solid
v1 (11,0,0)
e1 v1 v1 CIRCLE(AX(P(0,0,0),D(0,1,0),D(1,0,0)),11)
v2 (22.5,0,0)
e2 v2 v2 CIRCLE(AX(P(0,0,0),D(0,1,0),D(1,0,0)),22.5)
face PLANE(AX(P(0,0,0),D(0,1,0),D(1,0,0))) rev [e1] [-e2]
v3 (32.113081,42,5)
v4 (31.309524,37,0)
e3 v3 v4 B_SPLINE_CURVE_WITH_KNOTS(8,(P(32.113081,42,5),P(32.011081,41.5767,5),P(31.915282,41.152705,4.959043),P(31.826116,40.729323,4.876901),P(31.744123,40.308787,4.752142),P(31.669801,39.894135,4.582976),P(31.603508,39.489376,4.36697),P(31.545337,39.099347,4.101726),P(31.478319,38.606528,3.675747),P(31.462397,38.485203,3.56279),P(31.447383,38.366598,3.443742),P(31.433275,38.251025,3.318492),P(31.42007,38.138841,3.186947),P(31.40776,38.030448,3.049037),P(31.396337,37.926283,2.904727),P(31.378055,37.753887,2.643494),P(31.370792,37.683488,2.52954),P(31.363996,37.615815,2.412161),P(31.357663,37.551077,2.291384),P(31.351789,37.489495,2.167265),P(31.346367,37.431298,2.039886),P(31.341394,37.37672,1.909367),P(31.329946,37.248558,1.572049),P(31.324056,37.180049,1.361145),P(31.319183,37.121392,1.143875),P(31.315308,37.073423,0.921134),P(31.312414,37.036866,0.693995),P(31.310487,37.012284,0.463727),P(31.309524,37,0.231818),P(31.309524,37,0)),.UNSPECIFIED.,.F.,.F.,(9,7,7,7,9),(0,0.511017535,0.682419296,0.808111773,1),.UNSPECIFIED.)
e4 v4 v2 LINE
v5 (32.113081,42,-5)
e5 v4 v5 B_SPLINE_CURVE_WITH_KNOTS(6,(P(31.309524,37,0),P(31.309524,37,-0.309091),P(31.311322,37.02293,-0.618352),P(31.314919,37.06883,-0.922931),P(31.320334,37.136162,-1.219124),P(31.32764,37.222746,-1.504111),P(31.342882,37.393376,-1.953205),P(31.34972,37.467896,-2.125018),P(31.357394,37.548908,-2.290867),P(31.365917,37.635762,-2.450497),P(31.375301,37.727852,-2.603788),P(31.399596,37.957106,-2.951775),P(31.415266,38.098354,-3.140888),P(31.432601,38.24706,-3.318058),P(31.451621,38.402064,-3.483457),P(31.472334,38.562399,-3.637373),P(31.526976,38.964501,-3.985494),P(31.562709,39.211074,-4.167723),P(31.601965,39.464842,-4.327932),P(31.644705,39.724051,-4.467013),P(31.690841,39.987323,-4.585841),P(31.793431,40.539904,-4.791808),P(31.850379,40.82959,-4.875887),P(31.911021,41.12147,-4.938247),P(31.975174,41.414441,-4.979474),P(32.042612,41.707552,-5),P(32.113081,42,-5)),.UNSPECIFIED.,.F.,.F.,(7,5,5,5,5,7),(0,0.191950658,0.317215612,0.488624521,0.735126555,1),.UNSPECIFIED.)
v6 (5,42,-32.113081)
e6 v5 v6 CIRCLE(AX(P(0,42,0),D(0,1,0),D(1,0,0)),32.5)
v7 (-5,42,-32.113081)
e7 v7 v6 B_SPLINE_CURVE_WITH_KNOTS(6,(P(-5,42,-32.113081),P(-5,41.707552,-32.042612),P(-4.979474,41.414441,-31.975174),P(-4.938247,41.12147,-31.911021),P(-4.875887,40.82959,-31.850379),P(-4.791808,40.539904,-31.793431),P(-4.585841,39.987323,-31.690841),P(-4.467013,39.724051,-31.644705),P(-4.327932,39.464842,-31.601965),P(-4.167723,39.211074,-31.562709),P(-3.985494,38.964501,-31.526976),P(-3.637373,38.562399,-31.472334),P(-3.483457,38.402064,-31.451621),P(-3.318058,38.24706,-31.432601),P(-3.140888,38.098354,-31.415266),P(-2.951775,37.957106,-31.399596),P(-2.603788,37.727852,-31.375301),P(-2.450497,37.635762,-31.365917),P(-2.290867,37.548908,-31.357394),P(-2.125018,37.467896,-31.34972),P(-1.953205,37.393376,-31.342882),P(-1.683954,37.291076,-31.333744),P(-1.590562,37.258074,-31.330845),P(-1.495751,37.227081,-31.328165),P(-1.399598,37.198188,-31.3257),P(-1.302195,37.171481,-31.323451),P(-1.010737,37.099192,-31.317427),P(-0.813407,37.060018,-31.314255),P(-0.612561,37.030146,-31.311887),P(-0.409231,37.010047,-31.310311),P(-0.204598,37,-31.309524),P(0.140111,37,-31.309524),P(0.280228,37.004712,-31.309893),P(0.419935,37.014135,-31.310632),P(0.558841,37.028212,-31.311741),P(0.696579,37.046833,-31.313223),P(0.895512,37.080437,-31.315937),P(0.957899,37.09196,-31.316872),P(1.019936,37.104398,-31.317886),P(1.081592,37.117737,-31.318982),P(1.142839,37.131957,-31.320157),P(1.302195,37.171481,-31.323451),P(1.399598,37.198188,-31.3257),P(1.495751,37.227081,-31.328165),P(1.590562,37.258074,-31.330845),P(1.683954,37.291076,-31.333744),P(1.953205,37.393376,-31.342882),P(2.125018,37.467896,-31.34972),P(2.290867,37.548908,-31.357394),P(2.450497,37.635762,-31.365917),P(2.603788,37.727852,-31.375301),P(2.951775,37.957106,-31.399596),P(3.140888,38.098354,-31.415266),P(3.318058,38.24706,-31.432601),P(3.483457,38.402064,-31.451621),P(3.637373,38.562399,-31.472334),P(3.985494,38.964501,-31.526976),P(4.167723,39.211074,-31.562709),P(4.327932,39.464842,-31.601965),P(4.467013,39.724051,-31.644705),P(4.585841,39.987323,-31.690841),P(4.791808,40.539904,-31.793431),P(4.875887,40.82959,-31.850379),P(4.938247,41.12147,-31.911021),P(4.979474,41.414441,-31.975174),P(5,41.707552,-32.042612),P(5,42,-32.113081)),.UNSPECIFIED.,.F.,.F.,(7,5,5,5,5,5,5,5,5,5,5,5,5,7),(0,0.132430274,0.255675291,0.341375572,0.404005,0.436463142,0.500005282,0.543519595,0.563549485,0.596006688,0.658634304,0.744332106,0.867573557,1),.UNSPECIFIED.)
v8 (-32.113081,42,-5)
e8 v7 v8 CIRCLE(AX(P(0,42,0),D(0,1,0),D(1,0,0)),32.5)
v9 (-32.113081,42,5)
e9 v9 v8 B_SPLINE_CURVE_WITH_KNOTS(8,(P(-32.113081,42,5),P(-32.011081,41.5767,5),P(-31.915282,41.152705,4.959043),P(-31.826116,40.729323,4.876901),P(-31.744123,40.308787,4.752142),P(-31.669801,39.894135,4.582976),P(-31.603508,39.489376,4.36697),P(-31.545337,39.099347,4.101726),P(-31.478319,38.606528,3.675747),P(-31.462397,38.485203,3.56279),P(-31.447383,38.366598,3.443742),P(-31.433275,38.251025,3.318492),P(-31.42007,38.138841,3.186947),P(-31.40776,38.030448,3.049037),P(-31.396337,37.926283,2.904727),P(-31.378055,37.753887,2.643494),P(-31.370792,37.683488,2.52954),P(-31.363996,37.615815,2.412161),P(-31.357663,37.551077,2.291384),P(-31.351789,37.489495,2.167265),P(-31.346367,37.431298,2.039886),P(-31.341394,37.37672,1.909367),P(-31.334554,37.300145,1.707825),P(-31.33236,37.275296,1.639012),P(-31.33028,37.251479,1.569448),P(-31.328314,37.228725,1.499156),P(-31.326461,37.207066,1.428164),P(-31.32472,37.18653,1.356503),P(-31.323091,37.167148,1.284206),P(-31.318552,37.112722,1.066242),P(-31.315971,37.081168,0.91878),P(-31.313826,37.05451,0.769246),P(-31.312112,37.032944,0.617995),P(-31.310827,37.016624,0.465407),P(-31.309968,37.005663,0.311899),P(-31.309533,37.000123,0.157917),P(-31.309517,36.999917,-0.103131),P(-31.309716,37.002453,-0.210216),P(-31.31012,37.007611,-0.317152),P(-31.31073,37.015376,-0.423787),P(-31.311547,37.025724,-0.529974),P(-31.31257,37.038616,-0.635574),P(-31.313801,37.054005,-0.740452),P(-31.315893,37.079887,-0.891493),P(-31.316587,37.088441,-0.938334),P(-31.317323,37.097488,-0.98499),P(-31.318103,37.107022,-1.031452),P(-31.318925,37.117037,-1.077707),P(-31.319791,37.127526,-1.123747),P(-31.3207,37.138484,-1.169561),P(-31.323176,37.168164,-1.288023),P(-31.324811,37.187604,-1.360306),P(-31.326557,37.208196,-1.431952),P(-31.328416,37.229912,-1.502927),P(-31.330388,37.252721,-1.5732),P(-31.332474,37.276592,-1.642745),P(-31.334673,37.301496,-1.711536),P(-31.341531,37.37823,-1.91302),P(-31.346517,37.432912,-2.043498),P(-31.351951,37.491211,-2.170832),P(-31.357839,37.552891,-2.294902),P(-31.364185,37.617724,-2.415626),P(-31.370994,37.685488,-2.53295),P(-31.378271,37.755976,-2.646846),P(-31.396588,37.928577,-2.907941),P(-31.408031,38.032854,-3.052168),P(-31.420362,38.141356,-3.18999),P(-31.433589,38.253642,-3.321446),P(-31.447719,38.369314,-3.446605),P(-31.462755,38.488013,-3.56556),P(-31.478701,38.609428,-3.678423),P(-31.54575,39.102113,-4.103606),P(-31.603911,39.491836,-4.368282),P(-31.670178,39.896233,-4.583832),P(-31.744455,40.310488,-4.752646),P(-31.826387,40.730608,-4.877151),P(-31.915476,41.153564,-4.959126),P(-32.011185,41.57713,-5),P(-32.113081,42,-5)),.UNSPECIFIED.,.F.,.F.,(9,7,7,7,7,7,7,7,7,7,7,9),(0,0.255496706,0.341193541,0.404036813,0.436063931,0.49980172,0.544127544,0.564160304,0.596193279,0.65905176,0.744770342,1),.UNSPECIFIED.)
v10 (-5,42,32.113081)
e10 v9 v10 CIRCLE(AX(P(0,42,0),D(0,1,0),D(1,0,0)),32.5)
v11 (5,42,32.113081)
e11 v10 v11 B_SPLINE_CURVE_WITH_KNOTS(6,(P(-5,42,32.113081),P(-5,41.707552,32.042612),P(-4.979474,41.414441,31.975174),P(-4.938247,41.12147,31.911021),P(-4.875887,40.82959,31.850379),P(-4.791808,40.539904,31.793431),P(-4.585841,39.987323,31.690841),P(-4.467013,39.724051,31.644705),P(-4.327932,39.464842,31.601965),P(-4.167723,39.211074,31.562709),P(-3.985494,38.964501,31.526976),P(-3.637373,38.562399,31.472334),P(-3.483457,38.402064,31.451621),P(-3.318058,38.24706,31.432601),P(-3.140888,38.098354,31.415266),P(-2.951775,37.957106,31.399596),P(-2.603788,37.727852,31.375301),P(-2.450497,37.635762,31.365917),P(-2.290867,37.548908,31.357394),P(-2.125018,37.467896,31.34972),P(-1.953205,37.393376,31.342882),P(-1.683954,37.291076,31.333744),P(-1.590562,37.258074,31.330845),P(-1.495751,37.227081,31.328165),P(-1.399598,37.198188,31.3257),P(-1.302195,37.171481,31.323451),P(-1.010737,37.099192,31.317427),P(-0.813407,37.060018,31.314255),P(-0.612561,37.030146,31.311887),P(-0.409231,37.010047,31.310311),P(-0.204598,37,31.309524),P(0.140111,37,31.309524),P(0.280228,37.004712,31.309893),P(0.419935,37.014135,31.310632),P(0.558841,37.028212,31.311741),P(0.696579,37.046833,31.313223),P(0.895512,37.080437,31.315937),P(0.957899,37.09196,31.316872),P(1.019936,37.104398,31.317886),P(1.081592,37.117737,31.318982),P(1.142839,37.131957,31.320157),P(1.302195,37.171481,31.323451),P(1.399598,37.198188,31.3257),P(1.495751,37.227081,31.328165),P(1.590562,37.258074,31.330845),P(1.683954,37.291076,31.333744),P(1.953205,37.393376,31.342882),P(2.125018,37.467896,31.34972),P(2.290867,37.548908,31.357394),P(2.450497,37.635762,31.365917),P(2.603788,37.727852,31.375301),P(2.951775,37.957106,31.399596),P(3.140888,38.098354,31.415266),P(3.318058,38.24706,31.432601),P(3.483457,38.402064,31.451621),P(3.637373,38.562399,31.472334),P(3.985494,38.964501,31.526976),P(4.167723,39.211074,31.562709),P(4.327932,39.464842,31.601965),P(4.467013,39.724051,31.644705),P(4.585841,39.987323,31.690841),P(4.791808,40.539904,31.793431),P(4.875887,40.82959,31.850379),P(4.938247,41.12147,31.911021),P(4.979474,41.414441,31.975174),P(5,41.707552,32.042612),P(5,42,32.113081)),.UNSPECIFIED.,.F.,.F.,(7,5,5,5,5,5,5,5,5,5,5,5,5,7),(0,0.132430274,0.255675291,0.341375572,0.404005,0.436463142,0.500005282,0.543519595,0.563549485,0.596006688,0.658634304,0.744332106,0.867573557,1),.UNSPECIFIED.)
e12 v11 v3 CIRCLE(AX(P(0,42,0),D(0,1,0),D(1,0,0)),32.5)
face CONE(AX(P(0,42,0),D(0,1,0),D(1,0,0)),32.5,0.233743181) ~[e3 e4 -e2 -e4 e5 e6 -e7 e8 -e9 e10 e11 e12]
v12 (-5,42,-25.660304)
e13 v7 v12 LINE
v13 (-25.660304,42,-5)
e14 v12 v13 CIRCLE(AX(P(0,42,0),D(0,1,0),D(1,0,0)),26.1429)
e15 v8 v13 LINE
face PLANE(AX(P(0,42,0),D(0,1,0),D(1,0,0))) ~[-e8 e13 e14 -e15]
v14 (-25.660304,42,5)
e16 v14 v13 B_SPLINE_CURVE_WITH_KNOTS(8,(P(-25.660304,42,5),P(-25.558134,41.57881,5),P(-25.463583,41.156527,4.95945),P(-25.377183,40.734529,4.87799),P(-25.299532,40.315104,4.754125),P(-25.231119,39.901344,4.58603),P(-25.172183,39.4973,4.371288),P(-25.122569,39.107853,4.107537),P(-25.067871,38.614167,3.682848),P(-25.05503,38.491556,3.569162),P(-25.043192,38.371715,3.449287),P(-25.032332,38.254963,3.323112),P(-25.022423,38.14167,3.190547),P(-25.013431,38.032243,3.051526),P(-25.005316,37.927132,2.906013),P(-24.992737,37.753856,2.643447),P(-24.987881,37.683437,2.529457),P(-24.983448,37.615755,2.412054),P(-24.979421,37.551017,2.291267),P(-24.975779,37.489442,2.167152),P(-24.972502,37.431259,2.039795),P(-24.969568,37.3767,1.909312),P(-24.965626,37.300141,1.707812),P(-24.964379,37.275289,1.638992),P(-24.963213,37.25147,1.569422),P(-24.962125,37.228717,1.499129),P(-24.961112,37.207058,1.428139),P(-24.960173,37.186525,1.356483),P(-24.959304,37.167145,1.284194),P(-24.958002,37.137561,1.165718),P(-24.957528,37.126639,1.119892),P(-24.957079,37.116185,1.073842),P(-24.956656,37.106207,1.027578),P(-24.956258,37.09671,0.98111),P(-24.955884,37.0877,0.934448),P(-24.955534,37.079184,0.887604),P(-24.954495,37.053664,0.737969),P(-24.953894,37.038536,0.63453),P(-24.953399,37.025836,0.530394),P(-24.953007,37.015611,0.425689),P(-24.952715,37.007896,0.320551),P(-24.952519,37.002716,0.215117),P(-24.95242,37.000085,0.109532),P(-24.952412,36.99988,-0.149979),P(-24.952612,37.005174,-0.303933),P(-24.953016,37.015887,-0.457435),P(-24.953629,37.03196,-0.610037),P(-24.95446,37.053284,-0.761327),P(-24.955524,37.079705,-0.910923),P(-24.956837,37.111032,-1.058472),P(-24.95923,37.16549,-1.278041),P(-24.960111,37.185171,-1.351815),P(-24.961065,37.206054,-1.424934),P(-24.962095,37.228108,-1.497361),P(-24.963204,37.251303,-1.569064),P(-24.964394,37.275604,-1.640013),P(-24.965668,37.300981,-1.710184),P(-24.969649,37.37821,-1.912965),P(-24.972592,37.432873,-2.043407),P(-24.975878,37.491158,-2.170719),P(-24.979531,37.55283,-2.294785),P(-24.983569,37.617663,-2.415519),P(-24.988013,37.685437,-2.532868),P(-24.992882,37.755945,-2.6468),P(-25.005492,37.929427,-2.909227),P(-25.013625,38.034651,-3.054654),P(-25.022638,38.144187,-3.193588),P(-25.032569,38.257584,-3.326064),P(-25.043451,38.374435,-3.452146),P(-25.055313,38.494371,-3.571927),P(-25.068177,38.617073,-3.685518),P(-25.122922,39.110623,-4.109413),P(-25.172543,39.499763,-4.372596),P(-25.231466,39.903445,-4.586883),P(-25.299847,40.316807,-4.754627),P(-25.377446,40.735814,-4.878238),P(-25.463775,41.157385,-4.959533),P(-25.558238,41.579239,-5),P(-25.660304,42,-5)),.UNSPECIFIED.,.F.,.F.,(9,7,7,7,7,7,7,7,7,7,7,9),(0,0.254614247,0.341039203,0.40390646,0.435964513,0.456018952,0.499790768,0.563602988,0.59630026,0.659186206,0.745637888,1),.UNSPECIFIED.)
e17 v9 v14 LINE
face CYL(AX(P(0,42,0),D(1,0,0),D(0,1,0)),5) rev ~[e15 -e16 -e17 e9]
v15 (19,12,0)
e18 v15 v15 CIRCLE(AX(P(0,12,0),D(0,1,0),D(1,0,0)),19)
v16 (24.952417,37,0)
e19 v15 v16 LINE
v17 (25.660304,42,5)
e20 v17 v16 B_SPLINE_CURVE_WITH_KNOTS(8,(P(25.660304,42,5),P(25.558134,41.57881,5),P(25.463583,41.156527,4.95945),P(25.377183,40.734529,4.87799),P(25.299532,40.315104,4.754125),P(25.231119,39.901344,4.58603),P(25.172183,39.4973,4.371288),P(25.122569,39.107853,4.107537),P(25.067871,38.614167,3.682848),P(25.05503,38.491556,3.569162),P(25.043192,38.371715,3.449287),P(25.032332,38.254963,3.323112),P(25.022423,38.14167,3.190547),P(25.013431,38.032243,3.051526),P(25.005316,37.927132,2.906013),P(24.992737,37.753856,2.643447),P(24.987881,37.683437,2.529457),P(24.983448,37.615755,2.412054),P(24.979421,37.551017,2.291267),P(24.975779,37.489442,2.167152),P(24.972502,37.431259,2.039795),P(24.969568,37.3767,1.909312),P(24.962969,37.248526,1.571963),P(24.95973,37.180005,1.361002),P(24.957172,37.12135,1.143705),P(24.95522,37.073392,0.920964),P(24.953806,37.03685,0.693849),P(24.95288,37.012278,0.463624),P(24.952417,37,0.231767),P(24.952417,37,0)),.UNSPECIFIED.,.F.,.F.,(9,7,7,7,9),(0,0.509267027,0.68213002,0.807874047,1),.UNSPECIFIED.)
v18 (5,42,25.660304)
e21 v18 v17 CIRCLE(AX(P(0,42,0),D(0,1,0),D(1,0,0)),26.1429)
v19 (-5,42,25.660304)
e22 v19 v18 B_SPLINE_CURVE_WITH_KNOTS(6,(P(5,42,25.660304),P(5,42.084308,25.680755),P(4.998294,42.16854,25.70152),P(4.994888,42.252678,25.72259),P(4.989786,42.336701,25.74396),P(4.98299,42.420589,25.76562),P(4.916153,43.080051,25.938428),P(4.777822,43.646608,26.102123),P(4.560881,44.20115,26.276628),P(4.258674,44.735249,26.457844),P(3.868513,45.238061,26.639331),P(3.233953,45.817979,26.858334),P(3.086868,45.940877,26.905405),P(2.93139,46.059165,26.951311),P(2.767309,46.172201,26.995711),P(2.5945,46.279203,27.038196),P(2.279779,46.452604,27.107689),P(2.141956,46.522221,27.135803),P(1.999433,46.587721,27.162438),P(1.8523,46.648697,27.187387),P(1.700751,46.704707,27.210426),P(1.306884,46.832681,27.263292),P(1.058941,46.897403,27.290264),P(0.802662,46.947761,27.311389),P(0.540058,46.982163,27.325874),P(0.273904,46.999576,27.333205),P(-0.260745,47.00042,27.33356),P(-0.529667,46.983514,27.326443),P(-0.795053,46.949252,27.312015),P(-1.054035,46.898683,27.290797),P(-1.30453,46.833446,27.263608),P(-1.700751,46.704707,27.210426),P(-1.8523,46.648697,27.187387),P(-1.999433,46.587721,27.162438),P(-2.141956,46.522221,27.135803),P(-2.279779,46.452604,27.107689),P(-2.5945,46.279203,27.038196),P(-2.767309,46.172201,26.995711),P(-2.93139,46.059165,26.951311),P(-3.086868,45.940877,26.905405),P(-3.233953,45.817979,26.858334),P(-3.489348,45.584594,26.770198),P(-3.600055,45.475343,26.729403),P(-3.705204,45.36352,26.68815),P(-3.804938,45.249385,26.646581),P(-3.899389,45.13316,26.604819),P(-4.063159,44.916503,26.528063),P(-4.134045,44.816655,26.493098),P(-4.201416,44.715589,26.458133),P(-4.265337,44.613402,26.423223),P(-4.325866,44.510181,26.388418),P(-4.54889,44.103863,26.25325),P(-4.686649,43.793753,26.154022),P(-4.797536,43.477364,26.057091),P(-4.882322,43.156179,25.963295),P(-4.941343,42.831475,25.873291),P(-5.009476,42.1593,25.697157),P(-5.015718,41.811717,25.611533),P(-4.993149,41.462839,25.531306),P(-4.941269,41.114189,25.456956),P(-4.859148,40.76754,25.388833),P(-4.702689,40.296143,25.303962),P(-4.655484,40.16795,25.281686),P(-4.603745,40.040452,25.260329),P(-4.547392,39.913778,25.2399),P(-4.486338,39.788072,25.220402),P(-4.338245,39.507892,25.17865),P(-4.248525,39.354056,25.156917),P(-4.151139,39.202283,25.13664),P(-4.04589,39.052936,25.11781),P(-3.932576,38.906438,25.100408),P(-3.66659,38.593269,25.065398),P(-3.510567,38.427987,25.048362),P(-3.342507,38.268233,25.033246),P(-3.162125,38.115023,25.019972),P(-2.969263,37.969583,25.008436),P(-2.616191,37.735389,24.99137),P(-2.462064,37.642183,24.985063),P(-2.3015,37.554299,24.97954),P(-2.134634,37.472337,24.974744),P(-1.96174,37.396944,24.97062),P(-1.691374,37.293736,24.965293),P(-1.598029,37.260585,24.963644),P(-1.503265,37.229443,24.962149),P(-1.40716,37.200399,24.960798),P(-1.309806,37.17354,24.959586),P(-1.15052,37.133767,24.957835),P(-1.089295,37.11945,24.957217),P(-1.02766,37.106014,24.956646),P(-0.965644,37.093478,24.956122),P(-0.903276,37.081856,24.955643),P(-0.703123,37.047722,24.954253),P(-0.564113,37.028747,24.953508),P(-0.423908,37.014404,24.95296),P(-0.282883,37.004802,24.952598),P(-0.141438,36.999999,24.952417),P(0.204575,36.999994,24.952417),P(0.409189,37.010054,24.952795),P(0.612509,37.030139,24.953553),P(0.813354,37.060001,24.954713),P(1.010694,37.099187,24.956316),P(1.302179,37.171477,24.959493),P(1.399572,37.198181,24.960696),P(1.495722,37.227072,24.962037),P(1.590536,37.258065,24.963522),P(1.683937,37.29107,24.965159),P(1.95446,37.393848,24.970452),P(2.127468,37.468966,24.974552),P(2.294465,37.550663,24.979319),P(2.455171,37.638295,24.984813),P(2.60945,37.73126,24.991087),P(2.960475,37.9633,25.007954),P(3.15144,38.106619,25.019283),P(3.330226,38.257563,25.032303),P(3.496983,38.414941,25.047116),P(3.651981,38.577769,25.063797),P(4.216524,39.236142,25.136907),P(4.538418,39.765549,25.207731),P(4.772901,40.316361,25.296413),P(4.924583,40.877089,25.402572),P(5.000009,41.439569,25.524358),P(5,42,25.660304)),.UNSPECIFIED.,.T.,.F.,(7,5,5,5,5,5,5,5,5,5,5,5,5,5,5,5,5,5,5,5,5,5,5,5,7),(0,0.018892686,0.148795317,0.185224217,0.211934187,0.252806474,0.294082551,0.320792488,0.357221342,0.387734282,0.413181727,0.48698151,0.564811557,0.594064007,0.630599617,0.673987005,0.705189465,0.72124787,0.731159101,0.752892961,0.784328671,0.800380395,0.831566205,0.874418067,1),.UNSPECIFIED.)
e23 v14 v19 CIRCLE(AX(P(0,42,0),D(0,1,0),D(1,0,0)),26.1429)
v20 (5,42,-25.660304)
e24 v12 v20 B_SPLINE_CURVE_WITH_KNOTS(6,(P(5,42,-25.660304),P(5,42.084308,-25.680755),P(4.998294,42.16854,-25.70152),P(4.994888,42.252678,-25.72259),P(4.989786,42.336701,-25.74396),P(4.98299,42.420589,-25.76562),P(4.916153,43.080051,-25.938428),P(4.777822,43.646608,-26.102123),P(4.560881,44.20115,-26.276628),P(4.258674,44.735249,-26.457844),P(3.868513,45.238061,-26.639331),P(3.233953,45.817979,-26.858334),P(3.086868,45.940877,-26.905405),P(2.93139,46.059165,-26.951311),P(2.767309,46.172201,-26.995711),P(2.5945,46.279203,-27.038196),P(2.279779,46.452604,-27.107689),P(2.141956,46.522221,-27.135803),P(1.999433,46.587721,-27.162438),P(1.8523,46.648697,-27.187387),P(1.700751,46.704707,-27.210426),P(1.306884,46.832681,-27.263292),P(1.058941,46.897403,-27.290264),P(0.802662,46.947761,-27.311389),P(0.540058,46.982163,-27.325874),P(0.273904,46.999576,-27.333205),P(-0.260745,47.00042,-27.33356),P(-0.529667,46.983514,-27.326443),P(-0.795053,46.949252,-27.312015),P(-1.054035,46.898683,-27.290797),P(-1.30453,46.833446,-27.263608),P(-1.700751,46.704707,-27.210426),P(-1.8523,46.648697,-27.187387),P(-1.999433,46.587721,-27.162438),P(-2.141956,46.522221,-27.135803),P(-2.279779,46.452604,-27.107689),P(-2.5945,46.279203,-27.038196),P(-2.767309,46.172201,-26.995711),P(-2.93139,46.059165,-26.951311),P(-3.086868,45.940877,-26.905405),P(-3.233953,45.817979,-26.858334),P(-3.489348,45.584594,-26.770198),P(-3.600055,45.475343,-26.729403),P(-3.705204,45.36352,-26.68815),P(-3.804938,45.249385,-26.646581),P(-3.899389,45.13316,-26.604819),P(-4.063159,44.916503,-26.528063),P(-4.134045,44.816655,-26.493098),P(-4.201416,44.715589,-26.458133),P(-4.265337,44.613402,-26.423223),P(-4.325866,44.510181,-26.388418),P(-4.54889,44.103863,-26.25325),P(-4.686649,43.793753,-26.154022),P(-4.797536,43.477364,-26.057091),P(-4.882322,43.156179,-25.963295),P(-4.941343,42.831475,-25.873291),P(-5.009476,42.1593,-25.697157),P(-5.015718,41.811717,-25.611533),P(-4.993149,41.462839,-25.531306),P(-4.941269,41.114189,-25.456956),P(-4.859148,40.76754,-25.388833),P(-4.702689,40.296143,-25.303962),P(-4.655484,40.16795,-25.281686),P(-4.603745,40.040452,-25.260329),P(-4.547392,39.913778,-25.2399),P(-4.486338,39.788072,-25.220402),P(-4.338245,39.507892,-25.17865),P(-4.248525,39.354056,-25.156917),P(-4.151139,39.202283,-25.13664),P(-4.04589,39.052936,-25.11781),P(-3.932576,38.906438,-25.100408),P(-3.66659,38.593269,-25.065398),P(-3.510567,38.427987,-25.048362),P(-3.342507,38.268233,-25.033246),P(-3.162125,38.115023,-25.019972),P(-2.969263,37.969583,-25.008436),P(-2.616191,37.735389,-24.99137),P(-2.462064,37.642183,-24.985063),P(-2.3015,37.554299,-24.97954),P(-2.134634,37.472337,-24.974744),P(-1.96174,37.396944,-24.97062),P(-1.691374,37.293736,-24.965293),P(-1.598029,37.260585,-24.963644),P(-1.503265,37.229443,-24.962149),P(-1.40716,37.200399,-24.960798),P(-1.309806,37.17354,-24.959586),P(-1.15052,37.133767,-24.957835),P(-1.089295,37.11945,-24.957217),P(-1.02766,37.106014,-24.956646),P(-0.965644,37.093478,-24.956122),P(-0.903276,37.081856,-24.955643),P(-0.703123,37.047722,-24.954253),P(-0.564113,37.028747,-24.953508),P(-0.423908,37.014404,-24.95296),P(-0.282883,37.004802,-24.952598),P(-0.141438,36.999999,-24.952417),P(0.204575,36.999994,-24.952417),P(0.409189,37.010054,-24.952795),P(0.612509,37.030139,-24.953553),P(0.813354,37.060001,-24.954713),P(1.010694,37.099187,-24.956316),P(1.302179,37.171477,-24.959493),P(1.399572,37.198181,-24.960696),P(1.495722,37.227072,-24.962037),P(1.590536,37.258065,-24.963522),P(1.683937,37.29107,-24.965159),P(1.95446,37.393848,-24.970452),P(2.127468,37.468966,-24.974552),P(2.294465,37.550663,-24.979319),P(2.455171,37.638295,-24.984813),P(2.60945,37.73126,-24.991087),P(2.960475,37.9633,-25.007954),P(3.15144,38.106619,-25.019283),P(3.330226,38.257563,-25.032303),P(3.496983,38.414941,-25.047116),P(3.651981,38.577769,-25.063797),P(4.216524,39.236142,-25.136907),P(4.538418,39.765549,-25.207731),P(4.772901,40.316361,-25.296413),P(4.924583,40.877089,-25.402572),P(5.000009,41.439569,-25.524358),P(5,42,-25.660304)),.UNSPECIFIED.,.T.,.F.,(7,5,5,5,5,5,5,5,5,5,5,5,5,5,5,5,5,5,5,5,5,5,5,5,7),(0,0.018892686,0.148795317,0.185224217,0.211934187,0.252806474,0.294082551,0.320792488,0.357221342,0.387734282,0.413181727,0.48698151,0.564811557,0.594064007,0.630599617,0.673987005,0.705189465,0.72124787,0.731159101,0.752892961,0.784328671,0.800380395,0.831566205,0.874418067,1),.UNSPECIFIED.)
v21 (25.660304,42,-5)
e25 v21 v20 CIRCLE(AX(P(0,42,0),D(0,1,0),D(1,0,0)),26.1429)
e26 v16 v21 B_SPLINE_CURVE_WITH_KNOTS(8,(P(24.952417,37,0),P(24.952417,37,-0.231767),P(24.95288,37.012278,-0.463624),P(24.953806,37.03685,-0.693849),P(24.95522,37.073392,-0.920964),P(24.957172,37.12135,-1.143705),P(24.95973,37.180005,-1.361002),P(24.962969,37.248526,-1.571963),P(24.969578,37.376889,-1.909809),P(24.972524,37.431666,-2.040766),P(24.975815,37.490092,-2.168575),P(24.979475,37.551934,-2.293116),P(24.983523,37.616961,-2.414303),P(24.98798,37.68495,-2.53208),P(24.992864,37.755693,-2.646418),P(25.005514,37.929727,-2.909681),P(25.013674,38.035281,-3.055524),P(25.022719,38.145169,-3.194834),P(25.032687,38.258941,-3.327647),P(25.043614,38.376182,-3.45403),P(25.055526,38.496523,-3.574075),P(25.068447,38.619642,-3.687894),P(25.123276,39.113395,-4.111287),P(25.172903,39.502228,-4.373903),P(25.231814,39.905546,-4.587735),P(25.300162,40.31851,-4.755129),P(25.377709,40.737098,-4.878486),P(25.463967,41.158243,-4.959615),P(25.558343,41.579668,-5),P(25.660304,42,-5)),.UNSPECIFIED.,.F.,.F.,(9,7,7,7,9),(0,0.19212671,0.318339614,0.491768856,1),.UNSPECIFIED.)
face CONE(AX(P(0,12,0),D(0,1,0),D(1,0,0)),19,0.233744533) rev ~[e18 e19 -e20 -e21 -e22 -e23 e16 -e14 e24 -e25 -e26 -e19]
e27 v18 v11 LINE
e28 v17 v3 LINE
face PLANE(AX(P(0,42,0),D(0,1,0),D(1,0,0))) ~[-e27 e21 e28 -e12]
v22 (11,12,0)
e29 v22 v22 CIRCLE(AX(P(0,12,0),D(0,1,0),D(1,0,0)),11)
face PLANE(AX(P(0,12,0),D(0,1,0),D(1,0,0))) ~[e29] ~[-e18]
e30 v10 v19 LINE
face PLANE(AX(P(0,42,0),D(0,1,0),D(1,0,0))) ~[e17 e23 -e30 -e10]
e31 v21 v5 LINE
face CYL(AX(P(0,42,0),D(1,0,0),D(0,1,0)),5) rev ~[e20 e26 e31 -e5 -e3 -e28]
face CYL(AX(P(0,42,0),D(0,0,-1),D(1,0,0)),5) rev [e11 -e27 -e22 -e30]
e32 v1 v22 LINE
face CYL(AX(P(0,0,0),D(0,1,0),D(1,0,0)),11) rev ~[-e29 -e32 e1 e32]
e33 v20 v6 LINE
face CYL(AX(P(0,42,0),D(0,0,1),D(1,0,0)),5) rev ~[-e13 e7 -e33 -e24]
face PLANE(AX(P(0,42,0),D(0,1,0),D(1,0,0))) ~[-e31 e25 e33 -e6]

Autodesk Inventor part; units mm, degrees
ref_plane "YZ Plane" through (0, 0, 0) normal (1, 0, 0) x (0, 1, 0)
ref_plane "XZ Plane" through (0, 0, 0) normal (0, 1, 0) x (-1, 0, 0)
ref_plane "XY Plane" through (0, 0, 0) normal (0, 0, 1) x (1, 0, 0)
sketch "Sketch1" plane through (0, 0, 0) normal (0, 0, 1) x (1, 0, 0)
  line L0 (11, 0) -> (22.5, 0)
  line L1 (11, 0) -> (11, 12)
  line L2 (11, 12) -> (19, 12)
  line L3 (32.5, 42) -> (22.5, 0)
  line L4 (19, 12) -> (26.1429, 42)
  line L5 (26.1429, 42) -> (32.5, 42)
  line L6 (0, -8.4) -> (0, 50.4) projected
  point P0 (0, 0)
  dimension "d0" = 11.5
  dimension "d1" = 11
  dimension "d2" = 22.5
  dimension "d3" = 12
  dimension "d4" = 19
  dimension "d5" = 8
  dimension "d7" = 6.1843
  dimension "d8" = 32.5
  dimension "d9" = 42
revolve "Revolution1" add sketch "Sketch1" angle 360 about axis through (0, -10, 0) along (0, 1, 0)
sketch "Sketch2" plane through (0, 0, 0) normal (0, 0, 1) x (1, 0, 0)
  line L0 (-32.5, 42) -> (32.5, 42) projected
  circle A0 centre (0, 42) radius 5
  point P0 (0, 0)
  dimension "d11" = 10
extrude "Extrusion1" cut sketch "Sketch2" along normal through all both and the other way through all
sketch "Sketch3" plane through (0, 0, 0) normal (1, 0, 0) x (0, 1, 0)
  line L0 (42, 25.6603) -> (42, -25.6603) projected
  circle A0 centre (42, 0) radius 5
  point P0 (0, 0)
  dimension "d14" = 10
extrude "Extrusion2" cut sketch "Sketch3" along normal through all both and the other way through all
properties part number "Screw Jack Cup"
